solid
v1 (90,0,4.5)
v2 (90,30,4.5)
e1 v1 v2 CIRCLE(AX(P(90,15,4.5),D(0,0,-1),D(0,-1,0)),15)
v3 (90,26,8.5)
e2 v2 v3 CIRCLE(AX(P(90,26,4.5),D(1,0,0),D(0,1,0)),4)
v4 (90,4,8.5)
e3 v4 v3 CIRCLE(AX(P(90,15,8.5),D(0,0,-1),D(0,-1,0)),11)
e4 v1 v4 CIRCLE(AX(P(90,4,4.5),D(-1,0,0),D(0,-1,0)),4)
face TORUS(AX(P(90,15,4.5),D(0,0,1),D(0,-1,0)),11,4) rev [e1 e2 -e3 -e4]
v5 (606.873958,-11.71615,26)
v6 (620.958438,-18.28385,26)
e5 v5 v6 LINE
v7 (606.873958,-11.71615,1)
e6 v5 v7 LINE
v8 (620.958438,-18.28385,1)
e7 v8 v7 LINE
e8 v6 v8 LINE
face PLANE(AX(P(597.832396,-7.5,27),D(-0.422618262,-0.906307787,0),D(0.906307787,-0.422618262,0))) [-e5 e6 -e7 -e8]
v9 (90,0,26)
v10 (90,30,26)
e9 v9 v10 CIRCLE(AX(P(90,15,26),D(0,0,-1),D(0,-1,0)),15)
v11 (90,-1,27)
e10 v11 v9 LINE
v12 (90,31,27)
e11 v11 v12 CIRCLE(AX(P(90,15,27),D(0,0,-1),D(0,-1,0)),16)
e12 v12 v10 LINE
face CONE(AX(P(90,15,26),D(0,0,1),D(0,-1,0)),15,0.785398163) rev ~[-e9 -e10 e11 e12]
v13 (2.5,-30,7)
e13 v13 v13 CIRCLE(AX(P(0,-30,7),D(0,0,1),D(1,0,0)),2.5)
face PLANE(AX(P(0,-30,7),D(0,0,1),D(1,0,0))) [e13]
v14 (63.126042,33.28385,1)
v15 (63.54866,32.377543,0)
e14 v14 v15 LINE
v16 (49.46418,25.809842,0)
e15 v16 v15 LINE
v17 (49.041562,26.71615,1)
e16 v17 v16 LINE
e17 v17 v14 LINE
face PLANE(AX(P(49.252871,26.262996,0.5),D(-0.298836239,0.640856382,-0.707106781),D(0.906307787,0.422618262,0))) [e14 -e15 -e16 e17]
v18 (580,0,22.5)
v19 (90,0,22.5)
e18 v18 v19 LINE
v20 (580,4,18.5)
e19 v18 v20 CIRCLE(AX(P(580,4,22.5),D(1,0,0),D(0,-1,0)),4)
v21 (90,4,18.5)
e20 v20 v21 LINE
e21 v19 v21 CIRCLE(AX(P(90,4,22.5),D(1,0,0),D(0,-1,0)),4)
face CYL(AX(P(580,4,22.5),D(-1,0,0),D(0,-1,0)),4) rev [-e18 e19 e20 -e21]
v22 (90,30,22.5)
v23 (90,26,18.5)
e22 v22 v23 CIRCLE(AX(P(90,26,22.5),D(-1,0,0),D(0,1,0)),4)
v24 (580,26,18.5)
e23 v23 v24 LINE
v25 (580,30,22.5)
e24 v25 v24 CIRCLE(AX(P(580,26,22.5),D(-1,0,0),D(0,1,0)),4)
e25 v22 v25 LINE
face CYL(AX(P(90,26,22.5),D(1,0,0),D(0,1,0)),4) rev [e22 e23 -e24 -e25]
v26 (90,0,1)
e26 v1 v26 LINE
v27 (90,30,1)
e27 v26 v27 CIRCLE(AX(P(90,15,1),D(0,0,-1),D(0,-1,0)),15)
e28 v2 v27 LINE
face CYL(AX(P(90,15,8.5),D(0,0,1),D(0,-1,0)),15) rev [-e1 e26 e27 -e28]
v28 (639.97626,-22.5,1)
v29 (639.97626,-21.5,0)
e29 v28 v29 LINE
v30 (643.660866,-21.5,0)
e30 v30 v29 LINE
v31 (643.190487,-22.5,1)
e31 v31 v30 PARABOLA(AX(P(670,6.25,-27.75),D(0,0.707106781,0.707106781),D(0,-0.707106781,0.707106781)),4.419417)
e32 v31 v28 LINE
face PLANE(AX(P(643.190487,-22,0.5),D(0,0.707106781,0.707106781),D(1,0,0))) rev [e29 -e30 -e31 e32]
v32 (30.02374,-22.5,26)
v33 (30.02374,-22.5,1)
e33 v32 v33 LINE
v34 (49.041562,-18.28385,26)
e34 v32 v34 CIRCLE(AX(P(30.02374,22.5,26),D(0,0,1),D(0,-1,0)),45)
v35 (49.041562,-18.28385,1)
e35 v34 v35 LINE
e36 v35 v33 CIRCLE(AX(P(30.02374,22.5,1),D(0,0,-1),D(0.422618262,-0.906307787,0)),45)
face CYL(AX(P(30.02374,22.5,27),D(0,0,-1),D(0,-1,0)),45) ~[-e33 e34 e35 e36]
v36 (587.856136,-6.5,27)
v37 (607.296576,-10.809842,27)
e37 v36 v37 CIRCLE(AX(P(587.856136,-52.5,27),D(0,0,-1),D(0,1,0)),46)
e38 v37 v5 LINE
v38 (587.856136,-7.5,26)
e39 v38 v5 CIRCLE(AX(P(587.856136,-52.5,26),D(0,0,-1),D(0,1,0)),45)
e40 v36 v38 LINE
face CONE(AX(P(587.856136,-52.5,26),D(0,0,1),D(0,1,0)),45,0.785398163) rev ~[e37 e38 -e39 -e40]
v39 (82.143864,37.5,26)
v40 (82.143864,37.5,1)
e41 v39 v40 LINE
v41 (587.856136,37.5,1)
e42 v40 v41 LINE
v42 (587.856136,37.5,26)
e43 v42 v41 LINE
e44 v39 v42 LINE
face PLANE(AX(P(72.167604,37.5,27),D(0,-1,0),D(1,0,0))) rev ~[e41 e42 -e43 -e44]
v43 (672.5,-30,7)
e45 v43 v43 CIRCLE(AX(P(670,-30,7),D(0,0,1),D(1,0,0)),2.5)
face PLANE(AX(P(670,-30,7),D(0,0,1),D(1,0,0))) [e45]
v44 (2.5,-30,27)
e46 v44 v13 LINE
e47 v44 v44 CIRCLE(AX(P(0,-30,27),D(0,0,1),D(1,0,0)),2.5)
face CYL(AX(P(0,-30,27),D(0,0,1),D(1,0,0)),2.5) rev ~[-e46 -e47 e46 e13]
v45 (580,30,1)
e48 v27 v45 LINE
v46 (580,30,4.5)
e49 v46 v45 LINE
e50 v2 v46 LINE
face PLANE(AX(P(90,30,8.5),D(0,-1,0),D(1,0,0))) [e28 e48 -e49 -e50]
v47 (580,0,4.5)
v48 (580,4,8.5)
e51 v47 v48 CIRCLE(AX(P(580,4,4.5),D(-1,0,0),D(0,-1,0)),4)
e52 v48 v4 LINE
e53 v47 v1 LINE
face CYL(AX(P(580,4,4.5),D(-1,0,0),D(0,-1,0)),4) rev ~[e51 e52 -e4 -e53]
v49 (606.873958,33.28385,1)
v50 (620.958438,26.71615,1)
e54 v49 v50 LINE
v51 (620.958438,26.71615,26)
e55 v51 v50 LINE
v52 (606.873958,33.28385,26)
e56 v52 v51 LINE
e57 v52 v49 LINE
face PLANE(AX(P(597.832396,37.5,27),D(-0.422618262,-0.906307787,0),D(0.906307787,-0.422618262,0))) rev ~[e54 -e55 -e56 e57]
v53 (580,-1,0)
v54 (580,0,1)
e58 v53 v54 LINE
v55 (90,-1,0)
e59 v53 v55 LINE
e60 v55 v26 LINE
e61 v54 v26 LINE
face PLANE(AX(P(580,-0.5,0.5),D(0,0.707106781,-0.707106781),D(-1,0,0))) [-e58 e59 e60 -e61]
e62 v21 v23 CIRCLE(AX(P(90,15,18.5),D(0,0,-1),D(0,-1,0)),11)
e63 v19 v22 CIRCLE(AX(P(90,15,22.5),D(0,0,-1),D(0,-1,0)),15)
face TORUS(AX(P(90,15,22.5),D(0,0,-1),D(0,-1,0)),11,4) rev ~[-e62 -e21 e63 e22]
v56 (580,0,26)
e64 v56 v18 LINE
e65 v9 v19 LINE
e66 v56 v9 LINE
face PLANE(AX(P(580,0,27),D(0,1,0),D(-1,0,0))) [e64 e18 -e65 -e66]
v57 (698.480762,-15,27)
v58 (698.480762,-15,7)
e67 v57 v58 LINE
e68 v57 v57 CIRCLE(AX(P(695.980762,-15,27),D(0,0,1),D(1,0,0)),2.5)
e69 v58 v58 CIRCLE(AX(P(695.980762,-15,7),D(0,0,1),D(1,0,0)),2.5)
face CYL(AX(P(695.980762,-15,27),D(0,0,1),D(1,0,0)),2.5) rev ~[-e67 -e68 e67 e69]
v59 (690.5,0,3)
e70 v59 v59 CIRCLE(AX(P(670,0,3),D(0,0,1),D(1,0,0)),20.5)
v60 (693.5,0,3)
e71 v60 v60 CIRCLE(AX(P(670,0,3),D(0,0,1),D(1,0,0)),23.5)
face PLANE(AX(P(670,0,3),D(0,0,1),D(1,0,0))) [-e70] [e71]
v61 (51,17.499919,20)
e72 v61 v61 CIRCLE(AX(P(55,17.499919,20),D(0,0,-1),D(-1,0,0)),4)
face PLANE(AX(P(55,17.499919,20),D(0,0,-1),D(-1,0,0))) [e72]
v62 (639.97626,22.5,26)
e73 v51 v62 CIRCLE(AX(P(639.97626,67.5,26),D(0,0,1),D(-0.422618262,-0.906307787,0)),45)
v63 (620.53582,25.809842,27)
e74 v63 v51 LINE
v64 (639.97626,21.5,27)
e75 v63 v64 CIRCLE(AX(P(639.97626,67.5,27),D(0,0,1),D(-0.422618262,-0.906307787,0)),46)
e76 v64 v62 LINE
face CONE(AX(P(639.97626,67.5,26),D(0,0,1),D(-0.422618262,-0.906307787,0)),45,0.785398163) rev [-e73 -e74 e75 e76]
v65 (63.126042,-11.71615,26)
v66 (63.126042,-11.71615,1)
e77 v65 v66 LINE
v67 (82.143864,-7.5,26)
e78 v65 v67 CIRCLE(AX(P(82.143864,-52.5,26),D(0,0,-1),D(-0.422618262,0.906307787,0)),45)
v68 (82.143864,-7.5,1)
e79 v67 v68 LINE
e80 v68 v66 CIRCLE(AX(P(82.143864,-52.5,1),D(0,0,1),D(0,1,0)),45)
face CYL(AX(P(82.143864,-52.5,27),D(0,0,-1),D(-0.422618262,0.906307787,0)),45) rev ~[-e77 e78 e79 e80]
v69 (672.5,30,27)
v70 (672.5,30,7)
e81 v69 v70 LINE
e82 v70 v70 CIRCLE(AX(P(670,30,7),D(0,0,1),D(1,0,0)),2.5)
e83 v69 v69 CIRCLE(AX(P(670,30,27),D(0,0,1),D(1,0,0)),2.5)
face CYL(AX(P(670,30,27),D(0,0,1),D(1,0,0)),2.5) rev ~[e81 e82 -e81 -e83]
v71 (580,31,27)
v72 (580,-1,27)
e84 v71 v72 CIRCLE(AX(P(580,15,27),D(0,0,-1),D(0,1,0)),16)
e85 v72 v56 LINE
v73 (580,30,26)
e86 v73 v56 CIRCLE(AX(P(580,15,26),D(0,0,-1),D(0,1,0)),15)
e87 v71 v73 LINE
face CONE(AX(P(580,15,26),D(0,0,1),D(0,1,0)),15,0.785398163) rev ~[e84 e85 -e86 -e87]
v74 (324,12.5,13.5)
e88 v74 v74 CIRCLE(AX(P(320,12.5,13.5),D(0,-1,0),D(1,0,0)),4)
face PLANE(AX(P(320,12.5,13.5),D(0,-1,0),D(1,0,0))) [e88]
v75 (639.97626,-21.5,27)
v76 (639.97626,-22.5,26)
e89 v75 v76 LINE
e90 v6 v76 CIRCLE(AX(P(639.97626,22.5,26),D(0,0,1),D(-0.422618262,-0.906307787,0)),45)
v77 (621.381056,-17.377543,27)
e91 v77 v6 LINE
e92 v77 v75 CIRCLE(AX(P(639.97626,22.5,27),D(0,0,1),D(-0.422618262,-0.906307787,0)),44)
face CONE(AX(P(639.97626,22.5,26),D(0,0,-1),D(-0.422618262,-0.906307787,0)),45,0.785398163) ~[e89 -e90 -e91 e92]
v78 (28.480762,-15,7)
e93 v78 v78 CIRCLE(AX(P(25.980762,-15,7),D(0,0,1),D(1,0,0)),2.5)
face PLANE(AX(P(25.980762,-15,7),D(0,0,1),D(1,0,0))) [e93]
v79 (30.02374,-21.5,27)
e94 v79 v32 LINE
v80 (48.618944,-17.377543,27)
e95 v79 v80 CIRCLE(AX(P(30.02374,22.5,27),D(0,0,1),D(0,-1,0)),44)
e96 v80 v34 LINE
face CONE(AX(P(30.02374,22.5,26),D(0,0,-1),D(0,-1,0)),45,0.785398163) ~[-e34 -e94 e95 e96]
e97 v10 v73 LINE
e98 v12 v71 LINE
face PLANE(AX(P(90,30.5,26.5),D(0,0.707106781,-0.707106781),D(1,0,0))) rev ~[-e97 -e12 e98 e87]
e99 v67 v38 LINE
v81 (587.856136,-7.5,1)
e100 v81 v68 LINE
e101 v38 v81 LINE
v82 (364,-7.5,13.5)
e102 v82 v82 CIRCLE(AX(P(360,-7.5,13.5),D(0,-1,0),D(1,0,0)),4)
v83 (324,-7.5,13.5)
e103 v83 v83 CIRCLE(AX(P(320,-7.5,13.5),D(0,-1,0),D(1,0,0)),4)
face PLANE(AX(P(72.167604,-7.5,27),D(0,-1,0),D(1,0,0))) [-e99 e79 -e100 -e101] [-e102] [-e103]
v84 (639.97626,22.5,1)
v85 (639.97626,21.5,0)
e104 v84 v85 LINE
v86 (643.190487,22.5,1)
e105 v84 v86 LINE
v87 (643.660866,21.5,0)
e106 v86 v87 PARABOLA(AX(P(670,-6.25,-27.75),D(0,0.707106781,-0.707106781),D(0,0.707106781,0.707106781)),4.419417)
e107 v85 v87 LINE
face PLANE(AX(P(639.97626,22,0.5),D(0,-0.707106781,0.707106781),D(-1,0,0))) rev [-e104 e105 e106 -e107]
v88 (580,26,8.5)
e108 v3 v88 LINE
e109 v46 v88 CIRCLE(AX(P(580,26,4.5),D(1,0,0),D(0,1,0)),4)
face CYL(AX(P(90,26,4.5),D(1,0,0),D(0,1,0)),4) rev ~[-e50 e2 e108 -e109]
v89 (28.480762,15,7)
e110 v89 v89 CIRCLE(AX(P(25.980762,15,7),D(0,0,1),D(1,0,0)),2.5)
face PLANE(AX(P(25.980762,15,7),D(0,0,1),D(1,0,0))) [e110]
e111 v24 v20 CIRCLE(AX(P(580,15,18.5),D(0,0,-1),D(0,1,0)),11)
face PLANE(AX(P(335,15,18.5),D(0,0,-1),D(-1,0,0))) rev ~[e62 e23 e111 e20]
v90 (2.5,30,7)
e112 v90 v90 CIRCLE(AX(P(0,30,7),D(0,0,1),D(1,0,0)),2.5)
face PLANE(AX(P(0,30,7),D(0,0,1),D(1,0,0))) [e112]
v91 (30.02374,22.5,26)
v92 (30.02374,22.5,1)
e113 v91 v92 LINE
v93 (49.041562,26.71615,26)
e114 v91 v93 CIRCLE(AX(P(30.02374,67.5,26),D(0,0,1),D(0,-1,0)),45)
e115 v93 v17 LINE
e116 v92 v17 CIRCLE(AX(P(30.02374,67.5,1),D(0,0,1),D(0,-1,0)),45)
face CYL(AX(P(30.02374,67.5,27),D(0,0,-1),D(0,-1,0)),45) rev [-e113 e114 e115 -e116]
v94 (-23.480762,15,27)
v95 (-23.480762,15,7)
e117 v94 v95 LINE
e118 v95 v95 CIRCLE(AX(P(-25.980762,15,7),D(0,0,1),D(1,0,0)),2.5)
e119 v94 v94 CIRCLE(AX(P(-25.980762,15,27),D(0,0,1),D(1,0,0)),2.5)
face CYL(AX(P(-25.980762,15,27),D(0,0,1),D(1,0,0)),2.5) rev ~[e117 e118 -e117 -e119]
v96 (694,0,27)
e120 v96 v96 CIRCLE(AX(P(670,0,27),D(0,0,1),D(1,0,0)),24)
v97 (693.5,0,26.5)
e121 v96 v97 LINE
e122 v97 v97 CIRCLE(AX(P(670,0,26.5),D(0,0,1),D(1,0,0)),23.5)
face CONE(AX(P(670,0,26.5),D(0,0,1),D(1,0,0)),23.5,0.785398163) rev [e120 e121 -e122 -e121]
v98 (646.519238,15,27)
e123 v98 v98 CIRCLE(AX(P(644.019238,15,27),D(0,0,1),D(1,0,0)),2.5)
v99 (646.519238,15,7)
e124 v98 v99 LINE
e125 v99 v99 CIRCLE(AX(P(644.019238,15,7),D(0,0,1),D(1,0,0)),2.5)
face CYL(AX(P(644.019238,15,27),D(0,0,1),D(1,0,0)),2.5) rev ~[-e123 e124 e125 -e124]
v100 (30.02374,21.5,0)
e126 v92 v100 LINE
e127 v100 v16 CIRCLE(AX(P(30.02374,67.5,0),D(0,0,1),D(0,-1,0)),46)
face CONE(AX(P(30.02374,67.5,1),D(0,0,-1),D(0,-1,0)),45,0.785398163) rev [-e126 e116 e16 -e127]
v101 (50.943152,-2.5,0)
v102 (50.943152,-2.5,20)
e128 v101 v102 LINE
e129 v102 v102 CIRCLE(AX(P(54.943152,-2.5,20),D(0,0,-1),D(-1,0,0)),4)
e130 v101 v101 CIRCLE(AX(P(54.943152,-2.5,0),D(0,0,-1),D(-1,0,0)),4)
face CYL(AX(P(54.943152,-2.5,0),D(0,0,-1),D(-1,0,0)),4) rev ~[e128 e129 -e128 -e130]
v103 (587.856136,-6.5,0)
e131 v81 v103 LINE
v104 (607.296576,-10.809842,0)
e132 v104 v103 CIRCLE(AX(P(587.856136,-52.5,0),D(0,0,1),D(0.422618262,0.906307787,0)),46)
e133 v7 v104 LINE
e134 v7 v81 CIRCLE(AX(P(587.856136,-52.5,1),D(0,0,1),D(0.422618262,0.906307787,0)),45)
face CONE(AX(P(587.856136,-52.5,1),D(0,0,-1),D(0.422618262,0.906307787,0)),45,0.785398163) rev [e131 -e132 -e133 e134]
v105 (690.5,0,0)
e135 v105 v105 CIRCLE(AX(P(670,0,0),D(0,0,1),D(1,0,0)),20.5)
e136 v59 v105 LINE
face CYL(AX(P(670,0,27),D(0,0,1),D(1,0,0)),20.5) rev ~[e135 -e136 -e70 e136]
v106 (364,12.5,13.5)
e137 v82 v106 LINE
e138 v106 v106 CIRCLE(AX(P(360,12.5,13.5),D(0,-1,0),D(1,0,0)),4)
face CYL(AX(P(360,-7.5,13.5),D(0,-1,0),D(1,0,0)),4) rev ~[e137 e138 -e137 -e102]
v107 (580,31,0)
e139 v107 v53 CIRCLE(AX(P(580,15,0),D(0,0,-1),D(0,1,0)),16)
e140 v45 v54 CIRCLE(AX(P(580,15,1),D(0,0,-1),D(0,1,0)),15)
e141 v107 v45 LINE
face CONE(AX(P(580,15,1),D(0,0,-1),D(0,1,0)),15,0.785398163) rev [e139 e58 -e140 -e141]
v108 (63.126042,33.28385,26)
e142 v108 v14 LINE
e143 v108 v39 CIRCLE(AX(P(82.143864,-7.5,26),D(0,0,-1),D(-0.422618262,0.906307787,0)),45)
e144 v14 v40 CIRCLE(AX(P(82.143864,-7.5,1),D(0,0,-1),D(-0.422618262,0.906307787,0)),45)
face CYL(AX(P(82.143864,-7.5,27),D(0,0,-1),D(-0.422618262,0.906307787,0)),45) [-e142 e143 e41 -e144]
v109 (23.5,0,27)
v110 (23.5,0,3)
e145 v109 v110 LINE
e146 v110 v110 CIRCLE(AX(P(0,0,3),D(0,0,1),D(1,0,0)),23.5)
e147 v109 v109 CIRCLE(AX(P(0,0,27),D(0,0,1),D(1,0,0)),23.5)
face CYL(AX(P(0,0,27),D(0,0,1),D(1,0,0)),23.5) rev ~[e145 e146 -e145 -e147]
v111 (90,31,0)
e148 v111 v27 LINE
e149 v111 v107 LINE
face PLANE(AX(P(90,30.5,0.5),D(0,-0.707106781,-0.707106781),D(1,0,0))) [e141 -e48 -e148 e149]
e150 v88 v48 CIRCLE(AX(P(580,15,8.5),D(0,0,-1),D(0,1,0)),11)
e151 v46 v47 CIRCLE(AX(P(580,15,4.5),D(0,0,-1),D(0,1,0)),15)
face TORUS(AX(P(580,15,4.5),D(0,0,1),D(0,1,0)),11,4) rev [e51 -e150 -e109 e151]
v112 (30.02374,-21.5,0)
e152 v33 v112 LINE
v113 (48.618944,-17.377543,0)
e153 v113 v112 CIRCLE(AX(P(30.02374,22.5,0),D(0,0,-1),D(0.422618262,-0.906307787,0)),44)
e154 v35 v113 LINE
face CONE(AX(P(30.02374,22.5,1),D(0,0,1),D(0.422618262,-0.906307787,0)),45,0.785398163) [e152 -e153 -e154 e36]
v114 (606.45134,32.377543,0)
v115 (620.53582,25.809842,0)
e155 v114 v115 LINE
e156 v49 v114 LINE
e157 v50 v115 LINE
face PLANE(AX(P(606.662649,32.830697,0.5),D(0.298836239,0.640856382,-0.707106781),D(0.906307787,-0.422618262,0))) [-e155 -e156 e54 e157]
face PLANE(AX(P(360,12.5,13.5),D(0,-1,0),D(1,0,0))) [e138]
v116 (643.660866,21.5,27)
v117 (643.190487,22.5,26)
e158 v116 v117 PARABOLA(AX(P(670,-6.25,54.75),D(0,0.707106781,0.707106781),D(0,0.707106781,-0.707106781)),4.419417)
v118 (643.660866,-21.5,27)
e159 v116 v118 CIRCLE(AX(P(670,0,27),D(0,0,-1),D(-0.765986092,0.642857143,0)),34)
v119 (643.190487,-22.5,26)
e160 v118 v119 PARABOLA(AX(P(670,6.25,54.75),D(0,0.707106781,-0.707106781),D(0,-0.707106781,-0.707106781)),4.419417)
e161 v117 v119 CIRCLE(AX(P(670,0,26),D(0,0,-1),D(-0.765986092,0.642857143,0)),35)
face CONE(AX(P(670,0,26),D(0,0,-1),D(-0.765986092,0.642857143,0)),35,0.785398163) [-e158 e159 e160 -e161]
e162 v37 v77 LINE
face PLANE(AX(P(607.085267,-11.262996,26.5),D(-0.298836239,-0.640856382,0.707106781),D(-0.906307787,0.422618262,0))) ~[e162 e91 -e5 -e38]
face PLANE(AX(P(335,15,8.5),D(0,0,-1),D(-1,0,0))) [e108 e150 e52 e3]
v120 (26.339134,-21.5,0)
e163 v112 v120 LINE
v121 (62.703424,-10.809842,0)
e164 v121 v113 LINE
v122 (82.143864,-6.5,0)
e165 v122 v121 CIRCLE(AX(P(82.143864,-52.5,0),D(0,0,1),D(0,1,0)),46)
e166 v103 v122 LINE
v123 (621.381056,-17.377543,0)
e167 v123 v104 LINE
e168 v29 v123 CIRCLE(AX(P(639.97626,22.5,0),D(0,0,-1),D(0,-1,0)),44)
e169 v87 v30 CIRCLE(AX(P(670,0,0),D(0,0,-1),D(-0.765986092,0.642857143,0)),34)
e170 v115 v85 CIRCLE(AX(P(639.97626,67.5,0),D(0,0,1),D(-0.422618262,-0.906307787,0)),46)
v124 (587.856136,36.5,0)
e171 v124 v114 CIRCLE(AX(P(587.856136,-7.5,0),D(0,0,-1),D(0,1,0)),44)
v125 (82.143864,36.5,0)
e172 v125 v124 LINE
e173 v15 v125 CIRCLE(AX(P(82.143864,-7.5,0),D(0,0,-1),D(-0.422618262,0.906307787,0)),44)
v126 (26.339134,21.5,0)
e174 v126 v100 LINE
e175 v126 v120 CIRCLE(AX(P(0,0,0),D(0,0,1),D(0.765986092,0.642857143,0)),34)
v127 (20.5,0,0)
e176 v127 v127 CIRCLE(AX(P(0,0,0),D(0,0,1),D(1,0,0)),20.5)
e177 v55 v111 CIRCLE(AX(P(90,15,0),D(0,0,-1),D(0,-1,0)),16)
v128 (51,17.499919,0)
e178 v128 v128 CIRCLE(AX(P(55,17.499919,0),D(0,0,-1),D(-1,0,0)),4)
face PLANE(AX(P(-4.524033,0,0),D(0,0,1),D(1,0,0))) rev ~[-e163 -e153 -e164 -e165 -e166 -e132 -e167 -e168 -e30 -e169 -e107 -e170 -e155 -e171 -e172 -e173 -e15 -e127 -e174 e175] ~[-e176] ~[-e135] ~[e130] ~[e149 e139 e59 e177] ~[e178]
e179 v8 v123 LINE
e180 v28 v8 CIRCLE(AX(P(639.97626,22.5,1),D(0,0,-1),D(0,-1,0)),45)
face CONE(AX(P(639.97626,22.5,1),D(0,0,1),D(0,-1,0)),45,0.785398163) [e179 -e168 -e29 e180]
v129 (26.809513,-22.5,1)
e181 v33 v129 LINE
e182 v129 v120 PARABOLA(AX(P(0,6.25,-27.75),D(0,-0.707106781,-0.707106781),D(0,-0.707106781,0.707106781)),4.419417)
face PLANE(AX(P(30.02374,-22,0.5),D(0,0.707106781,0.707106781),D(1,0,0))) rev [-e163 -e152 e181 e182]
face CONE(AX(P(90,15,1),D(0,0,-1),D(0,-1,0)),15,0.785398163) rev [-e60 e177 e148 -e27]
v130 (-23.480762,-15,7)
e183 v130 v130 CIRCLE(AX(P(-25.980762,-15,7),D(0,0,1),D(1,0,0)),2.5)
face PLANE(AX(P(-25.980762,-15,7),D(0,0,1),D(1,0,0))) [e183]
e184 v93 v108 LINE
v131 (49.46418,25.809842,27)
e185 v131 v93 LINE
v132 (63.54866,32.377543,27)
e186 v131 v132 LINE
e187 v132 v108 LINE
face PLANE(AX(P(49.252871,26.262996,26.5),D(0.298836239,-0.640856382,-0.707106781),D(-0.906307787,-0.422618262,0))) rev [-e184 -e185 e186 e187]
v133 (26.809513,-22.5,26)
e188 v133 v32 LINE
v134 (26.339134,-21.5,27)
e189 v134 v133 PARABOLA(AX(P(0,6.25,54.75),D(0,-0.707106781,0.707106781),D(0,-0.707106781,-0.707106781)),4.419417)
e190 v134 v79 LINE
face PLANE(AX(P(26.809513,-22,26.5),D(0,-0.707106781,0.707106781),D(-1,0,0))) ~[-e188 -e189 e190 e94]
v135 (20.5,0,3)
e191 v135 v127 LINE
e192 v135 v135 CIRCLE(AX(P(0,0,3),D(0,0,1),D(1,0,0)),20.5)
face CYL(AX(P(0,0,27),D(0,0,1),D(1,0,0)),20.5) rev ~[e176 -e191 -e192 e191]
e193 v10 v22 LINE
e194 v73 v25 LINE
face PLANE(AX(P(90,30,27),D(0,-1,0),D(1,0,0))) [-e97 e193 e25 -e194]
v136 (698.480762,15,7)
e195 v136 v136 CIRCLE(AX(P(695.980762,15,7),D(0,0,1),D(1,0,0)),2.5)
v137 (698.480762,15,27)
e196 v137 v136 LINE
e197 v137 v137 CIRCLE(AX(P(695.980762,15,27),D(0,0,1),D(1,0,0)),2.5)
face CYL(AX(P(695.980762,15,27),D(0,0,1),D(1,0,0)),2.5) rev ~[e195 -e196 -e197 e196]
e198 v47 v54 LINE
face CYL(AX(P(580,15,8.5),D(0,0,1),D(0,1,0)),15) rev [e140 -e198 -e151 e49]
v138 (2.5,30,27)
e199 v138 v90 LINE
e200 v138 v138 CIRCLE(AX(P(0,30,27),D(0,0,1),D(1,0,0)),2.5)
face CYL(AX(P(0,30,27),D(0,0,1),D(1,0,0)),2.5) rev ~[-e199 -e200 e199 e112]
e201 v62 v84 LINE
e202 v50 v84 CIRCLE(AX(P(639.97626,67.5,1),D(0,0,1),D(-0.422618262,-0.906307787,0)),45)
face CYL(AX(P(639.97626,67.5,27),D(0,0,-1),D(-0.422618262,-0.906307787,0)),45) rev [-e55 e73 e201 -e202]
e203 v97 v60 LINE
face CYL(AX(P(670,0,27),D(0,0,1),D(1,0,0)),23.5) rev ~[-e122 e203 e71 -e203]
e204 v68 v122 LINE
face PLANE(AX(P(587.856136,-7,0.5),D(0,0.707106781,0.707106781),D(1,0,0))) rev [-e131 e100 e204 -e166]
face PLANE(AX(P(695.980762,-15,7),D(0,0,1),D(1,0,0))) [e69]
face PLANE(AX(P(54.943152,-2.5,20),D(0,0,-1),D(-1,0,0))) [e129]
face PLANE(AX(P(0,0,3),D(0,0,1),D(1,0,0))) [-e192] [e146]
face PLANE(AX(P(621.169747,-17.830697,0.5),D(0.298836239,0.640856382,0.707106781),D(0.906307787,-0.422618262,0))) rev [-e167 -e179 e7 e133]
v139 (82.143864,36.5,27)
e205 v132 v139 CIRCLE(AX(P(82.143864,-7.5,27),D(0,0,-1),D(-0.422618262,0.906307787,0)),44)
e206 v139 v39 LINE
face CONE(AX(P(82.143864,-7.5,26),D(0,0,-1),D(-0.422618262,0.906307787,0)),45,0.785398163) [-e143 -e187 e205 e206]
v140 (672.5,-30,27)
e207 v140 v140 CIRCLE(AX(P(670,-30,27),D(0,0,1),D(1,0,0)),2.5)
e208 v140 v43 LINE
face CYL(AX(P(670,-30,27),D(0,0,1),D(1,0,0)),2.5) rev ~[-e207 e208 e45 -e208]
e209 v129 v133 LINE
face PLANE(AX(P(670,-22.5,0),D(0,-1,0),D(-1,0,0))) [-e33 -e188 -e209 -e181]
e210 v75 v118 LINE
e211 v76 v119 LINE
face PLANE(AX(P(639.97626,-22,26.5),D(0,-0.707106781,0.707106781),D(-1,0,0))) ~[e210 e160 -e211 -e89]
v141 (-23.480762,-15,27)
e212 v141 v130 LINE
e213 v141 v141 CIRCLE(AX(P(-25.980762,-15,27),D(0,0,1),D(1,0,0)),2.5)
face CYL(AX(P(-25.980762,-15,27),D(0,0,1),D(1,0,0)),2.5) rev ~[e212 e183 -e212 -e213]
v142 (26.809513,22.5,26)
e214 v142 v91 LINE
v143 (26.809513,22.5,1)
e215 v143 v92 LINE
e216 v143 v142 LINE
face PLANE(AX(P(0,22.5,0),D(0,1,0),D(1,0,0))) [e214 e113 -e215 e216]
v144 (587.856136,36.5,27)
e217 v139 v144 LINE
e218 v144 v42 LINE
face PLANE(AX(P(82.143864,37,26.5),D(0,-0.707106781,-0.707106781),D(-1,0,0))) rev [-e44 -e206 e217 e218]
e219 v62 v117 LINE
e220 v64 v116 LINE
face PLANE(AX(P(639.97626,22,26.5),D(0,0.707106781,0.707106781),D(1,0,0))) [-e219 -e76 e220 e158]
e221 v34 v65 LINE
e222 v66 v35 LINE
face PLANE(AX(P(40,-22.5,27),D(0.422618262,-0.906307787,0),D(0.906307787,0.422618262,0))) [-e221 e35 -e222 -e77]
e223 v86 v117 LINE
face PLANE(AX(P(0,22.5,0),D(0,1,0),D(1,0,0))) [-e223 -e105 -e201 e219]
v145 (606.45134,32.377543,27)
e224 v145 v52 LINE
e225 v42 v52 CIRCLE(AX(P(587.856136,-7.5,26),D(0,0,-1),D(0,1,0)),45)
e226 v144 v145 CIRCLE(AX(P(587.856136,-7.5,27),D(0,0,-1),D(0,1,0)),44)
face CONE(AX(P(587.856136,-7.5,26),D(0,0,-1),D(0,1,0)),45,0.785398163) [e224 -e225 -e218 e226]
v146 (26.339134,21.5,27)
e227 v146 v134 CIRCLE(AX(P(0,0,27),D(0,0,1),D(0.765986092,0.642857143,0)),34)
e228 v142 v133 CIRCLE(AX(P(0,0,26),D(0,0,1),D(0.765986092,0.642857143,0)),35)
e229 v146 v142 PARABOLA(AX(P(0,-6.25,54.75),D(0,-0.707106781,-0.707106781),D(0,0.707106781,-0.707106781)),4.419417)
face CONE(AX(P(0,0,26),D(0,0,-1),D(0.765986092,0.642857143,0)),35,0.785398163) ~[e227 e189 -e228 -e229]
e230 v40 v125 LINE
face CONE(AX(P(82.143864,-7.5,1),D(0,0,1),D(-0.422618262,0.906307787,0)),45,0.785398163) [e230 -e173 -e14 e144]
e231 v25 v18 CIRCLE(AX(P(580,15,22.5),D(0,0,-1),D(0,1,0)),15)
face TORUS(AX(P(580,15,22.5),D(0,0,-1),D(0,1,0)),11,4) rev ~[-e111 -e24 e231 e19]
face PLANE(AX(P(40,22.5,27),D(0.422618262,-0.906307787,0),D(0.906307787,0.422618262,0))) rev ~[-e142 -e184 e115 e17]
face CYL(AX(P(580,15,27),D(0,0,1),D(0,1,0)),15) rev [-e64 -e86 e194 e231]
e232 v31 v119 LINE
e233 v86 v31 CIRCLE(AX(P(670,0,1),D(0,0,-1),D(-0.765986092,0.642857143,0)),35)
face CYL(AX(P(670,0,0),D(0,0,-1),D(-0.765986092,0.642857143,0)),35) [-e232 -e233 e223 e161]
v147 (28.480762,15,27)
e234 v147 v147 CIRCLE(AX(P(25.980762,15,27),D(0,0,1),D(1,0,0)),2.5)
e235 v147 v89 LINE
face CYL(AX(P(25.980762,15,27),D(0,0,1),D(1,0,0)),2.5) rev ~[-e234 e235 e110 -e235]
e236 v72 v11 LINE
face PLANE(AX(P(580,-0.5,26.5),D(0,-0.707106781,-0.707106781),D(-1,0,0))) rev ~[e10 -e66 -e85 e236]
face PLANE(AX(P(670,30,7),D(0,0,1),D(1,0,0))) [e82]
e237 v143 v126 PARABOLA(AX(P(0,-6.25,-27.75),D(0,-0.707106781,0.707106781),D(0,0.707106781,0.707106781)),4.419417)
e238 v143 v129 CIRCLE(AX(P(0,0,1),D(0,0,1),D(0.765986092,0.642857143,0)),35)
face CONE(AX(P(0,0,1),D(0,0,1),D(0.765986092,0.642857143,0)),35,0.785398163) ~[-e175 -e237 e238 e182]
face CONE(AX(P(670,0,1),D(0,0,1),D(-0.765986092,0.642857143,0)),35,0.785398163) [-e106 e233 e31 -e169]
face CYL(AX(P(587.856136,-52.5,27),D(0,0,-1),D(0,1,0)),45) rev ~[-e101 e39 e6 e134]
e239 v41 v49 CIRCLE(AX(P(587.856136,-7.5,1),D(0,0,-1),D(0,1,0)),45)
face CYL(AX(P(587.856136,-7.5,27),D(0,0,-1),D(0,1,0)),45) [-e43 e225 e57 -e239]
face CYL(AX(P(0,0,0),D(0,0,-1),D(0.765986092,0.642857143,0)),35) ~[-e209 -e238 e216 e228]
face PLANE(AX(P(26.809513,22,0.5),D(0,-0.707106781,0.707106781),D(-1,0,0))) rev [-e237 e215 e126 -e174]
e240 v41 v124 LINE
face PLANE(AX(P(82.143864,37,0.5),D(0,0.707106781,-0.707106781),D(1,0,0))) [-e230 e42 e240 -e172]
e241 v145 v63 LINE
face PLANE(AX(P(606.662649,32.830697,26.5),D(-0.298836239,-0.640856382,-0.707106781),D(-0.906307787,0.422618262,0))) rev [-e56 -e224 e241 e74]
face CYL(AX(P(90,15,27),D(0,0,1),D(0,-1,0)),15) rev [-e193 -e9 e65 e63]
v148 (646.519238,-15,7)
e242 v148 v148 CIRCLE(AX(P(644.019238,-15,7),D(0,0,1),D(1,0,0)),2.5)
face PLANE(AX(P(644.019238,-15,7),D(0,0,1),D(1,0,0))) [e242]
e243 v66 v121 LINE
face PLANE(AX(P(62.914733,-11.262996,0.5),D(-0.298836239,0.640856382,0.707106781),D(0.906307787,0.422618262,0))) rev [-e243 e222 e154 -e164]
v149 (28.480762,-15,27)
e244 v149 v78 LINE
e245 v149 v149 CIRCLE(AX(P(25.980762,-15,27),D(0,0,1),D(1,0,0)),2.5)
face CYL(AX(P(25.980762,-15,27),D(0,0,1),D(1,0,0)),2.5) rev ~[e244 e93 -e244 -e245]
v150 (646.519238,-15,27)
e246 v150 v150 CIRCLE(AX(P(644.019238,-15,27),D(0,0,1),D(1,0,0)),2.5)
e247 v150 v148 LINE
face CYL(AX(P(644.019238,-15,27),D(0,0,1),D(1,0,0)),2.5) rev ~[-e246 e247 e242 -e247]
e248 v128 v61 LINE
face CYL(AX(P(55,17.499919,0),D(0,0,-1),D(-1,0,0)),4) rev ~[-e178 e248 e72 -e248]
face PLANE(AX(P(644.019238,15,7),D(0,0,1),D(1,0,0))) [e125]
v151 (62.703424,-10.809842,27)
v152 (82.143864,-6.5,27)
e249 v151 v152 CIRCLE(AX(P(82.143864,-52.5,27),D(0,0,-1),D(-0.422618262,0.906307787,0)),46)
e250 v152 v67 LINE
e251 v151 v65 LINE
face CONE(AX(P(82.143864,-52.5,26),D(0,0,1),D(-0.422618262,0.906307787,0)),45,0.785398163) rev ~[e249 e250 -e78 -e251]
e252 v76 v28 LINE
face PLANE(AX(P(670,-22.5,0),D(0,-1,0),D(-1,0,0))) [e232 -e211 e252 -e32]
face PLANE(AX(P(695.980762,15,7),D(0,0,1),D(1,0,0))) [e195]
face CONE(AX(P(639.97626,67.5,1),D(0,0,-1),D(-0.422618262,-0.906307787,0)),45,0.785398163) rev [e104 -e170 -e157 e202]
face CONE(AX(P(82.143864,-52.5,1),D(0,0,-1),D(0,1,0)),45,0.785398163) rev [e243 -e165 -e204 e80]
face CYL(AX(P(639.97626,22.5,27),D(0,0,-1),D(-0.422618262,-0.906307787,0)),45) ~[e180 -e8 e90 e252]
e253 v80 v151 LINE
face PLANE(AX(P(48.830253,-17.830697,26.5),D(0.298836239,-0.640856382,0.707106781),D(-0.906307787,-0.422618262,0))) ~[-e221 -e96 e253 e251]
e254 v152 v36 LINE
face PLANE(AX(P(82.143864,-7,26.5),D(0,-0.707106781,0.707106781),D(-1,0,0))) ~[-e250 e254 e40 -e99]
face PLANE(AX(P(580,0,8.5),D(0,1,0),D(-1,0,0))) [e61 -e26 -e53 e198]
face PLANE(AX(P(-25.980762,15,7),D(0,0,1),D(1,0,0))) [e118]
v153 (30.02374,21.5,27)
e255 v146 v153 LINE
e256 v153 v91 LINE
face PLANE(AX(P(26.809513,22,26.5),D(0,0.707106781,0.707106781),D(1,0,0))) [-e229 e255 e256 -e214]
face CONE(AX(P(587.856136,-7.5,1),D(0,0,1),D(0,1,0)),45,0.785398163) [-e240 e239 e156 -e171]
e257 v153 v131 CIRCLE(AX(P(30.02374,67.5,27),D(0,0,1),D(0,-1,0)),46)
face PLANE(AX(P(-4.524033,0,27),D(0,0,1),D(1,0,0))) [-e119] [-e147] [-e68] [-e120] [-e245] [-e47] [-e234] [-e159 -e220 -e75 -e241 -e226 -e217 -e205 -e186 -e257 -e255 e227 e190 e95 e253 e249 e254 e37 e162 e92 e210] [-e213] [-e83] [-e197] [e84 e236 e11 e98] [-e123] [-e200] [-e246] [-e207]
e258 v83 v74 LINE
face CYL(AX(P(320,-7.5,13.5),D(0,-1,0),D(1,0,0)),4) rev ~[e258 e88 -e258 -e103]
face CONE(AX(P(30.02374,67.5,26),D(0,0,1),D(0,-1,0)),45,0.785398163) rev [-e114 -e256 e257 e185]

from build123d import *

# Parameters (mm, degrees)
EXTRUDE_1_DEPTH      = 27
SKETCH_2_R           = 20.5
CUT_EXTRUDE_1_DEPTH  = 45
CUT_EXTRUDE_2_DEPTH  = 50
EXTRUDE_2_DEPTH      = 27
CUT_EXTRUDE_3_DEPTH  = 8.5
CUT_EXTRUDE_START    = -8.5
CUT_EXTRUDE_4_DEPTH  = 8.5
CHAMFER_2_SIZE       = 1
FILLET_1_R           = 4
FILLET_2_R           = 45
EXTRUDE_START        = -27
EXTRUDE_3_DEPTH      = 27
SKETCH_13_R          = 23.5
CUT_EXTRUDE_8_DEPTH  = 24
SKETCH_14_R          = 2.5
CUT_EXTRUDE_9_DEPTH  = 20
CHAMFER_3_SIZE       = 0.5
CHAMFER_4_SIZE       = 1
SKETCH_15_R          = 4
CUT_EXTRUDE_10_DEPTH = 20
SKETCH_16_R          = 4
CUT_EXTRUDE_11_DEPTH = 20


with BuildPart() as part:
    # 草图1 → 拉伸1 (new body)
    with BuildSketch(Plane.XY):
        with BuildLine():
            Line((0, 22.5), (670, 22.5))
            ThreePointArc((670, 22.5), (692.5, 0), (670, -22.5))
            Line((670, -22.5), (0, -22.5))
            ThreePointArc((0, -22.5), (-22.5, 0), (0, 22.5))
        make_face()
    extrude(amount=EXTRUDE_1_DEPTH)

    # 草图2 → 切除-拉伸1 (cut)
    with BuildSketch(Plane.XY.offset(27)):
        Circle(SKETCH_2_R)
        with Locations((670, 0)):
            Circle(SKETCH_2_R)
    extrude(amount=-CUT_EXTRUDE_1_DEPTH, mode=Mode.SUBTRACT)

    # 草图3 → 切除-拉伸2 (cut)
    with BuildSketch(Plane.XY.offset(27)):
        Polygon((40, -22.5), (72.167603808, -7.5), (597.832396192, -7.5), (630, -22.5), align=None)
    extrude(amount=-CUT_EXTRUDE_2_DEPTH, mode=Mode.SUBTRACT)

    # 草图4 → 拉伸2 (add)
    with BuildSketch(Plane.XY.offset(27)):
        Polygon((630, 22.5), (40, 22.5), (72.167603808, 37.5), (597.832396192, 37.5), align=None)
    extrude(amount=-EXTRUDE_2_DEPTH)

    # 草图5 → 切除-拉伸3 (cut)
    with BuildSketch(Plane.XY.offset(27)):
        with BuildLine():
            Line((90, 30), (580, 30))
            ThreePointArc((580, 30), (595, 15), (580, 0))
            Line((580, 0), (90, 0))
            ThreePointArc((90, 0), (75, 15), (90, 30))
        make_face()
    extrude(amount=-CUT_EXTRUDE_3_DEPTH, mode=Mode.SUBTRACT)

    # 草图7 → 切除-拉伸4 (cut)
    with BuildSketch(Plane(origin=(0, 0, 0), x_dir=(-1, 0, 0), z_dir=(0, 0, -1)).offset(CUT_EXTRUDE_START)):
        with BuildLine():
            Line((-90, 30), (-580, 30))
            ThreePointArc((-580, 30), (-595, 15), (-580, 0))
            Line((-580, 0), (-90, 0))
            ThreePointArc((-90, 0), (-75, 15), (-90, 30))
        make_face()
    extrude(amount=CUT_EXTRUDE_4_DEPTH, mode=Mode.SUBTRACT)

    # 倒角2
    chamfer_2_edges = [part.edges().sort_by_distance(p)[0] for p in [
        (75, 15, 27),
        (335, 0, 27),
        (595, 15, 27),
        (335, 30, 27),
        (75, 15, 0),
        (335, 30, 0),
        (595, 15, 0),
        (335, 0, 0),
    ]]
    chamfer(chamfer_2_edges, length=CHAMFER_2_SIZE)

    # 圆角1
    fillet_1_edges = [part.edges().sort_by_distance(p)[0] for p in [
        (75, 15, 18.5),
        (335, 30, 18.5),
        (595, 15, 18.5),
        (335, 0, 18.5),
        (75, 15, 8.5),
        (335, 0, 8.5),
        (595, 15, 8.5),
        (335, 30, 8.5),
    ]]
    fillet(fillet_1_edges, radius=FILLET_1_R)

    # 圆角2
    fillet_2_edges = [part.edges().sort_by_distance(p)[0] for p in [
        (630, -22.5, 13.5),
        (40, -22.5, 13.5),
        (72.167603808, -7.5, 13.5),
        (597.832396192, -7.5, 13.5),
        (597.832396192, 37.5, 13.5),
        (630, 22.5, 13.5),
        (40, 22.5, 13.5),
        (72.167603808, 37.5, 13.5),
    ]]
    fillet(fillet_2_edges, radius=FILLET_2_R)

    # 草图8 → 拉伸3 (add)
    with BuildSketch(Plane.XY.offset(27).offset(EXTRUDE_START)):
        with BuildLine():
            Line((0, 22.5), (26.809513237, 22.5))
            ThreePointArc((26.809513237, 22.5), (-35, 0), (26.809513237, -22.5))
            Line((26.809513237, -22.5), (0, -22.5))
            ThreePointArc((0, -22.5), (-22.5, 0), (0, 22.5))
        make_face()
        with BuildLine():
            Line((670, 22.5), (643.190486763, 22.5))
            ThreePointArc((643.190486763, 22.5), (705, 0), (643.190486763, -22.5))
            Line((643.190486763, -22.5), (670, -22.5))
            ThreePointArc((670, -22.5), (692.5, 0), (670, 22.5))
        make_face()
    extrude(amount=EXTRUDE_3_DEPTH)

    # 草图13 → 切除-拉伸8 (cut)
    with BuildSketch(Plane.XY.offset(27)):
        Circle(SKETCH_13_R)
        with Locations((670, 0)):
            Circle(SKETCH_13_R)
    extrude(amount=-CUT_EXTRUDE_8_DEPTH, mode=Mode.SUBTRACT)

    # 草图14 → 切除-拉伸9 (cut)
    with BuildSketch(Plane.XY.offset(27)):
        with Locations((-25.980762114, -15)):
            Circle(SKETCH_14_R)
        with Locations((644.019237886, -15)):
            Circle(SKETCH_14_R)
        with Locations((670, -30)):
            Circle(SKETCH_14_R)
        with Locations((644.019237886, 15)):
            Circle(SKETCH_14_R)
        with Locations((670, 30)):
            Circle(SKETCH_14_R)
        with Locations((-25.980762114, 15)):
            Circle(SKETCH_14_R)
        with Locations((0, 30)):
            Circle(SKETCH_14_R)
        with Locations((0, -30)):
            Circle(SKETCH_14_R)
        with Locations((25.980762114, 15)):
            Circle(SKETCH_14_R)
        with Locations((25.980762114, -15)):
            Circle(SKETCH_14_R)
        with Locations((695.980762114, 15)):
            Circle(SKETCH_14_R)
        with Locations((695.980762114, -15)):
            Circle(SKETCH_14_R)
    extrude(amount=-CUT_EXTRUDE_9_DEPTH, mode=Mode.SUBTRACT)

    # 倒角3
    chamfer_3_edges = [part.edges().sort_by_distance(p)[0] for p in [
        (646.5, 0, 27),
    ]]
    chamfer(chamfer_3_edges, length=CHAMFER_3_SIZE)

    # 倒角4
    chamfer_4_edges = [part.edges().sort_by_distance(p)[0] for p in [
        (335, -7.5, 27),
        (335, -7.5, 0),
        (613.916198096, -15, 27),
        (613.916198096, -15, 0),
        (56.083801904, -15, 27),
        (641.583373291, -22.5, 27),
        (613.916198096, 30, 27),
        (335, 37.5, 27),
        (56.083801904, 30, 27),
        (28.416626709, 22.5, 27),
        (72.404080999, 36.43332032, 27),
        (39.763522808, -21.43332032, 27),
        (597.595919001, 36.43332032, 27),
        (630.236477192, -21.43332032, 27),
        (641.583373291, -22.5, 0),
        (56.083801904, -15, 0),
        (28.416626709, 22.5, 0),
        (56.083801904, 30, 0),
        (335, 37.5, 0),
        (613.916198096, 30, 0),
        (72.404080999, 36.43332032, 0),
        (39.763522808, -21.43332032, 0),
        (597.595919001, 36.43332032, 0),
        (630.236477192, -21.43332032, 0),
        (597.595919001, -8.56667968, 27),
        (597.595919001, -8.56667968, 0),
        (630.236477192, 23.56667968, 27),
        (630.236477192, 23.56667968, 0),
        (39.763522808, 23.56667968, 27),
        (39.763522808, 23.56667968, 0),
        (72.404080999, -8.56667968, 27),
        (72.404080999, -8.56667968, 0),
        (28.416626709, -22.5, 0),
        (28.416626709, -22.5, 27),
        (-35, 0, 0),
        (-35, 0, 27),
        (641.583373291, 22.5, 0),
        (641.583373291, 22.5, 27),
        (705, 0, 0),
        (705, 0, 27),
    ]]
    chamfer(chamfer_4_edges, length=CHAMFER_4_SIZE)

    # 草图15 → 切除-拉伸10 (cut)
    with BuildSketch(Plane.XZ.offset(7.5)):
        with Locations((320, 13.5)):
            Circle(SKETCH_15_R)
        with Locations((360, 13.5)):
            Circle(SKETCH_15_R)
    extrude(amount=-CUT_EXTRUDE_10_DEPTH, mode=Mode.SUBTRACT)

    # 草图16 → 切除-拉伸11 (cut)
    with BuildSketch(Plane(origin=(0, 0, 0), x_dir=(-1, 0, 0), z_dir=(0, 0, -1))):
        with Locations((-54.94315244, -2.5)):
            Circle(SKETCH_16_R)
        with Locations((-55, 17.499919209)):
            Circle(SKETCH_16_R)
    extrude(amount=-CUT_EXTRUDE_11_DEPTH, mode=Mode.SUBTRACT)


solid = part.part
